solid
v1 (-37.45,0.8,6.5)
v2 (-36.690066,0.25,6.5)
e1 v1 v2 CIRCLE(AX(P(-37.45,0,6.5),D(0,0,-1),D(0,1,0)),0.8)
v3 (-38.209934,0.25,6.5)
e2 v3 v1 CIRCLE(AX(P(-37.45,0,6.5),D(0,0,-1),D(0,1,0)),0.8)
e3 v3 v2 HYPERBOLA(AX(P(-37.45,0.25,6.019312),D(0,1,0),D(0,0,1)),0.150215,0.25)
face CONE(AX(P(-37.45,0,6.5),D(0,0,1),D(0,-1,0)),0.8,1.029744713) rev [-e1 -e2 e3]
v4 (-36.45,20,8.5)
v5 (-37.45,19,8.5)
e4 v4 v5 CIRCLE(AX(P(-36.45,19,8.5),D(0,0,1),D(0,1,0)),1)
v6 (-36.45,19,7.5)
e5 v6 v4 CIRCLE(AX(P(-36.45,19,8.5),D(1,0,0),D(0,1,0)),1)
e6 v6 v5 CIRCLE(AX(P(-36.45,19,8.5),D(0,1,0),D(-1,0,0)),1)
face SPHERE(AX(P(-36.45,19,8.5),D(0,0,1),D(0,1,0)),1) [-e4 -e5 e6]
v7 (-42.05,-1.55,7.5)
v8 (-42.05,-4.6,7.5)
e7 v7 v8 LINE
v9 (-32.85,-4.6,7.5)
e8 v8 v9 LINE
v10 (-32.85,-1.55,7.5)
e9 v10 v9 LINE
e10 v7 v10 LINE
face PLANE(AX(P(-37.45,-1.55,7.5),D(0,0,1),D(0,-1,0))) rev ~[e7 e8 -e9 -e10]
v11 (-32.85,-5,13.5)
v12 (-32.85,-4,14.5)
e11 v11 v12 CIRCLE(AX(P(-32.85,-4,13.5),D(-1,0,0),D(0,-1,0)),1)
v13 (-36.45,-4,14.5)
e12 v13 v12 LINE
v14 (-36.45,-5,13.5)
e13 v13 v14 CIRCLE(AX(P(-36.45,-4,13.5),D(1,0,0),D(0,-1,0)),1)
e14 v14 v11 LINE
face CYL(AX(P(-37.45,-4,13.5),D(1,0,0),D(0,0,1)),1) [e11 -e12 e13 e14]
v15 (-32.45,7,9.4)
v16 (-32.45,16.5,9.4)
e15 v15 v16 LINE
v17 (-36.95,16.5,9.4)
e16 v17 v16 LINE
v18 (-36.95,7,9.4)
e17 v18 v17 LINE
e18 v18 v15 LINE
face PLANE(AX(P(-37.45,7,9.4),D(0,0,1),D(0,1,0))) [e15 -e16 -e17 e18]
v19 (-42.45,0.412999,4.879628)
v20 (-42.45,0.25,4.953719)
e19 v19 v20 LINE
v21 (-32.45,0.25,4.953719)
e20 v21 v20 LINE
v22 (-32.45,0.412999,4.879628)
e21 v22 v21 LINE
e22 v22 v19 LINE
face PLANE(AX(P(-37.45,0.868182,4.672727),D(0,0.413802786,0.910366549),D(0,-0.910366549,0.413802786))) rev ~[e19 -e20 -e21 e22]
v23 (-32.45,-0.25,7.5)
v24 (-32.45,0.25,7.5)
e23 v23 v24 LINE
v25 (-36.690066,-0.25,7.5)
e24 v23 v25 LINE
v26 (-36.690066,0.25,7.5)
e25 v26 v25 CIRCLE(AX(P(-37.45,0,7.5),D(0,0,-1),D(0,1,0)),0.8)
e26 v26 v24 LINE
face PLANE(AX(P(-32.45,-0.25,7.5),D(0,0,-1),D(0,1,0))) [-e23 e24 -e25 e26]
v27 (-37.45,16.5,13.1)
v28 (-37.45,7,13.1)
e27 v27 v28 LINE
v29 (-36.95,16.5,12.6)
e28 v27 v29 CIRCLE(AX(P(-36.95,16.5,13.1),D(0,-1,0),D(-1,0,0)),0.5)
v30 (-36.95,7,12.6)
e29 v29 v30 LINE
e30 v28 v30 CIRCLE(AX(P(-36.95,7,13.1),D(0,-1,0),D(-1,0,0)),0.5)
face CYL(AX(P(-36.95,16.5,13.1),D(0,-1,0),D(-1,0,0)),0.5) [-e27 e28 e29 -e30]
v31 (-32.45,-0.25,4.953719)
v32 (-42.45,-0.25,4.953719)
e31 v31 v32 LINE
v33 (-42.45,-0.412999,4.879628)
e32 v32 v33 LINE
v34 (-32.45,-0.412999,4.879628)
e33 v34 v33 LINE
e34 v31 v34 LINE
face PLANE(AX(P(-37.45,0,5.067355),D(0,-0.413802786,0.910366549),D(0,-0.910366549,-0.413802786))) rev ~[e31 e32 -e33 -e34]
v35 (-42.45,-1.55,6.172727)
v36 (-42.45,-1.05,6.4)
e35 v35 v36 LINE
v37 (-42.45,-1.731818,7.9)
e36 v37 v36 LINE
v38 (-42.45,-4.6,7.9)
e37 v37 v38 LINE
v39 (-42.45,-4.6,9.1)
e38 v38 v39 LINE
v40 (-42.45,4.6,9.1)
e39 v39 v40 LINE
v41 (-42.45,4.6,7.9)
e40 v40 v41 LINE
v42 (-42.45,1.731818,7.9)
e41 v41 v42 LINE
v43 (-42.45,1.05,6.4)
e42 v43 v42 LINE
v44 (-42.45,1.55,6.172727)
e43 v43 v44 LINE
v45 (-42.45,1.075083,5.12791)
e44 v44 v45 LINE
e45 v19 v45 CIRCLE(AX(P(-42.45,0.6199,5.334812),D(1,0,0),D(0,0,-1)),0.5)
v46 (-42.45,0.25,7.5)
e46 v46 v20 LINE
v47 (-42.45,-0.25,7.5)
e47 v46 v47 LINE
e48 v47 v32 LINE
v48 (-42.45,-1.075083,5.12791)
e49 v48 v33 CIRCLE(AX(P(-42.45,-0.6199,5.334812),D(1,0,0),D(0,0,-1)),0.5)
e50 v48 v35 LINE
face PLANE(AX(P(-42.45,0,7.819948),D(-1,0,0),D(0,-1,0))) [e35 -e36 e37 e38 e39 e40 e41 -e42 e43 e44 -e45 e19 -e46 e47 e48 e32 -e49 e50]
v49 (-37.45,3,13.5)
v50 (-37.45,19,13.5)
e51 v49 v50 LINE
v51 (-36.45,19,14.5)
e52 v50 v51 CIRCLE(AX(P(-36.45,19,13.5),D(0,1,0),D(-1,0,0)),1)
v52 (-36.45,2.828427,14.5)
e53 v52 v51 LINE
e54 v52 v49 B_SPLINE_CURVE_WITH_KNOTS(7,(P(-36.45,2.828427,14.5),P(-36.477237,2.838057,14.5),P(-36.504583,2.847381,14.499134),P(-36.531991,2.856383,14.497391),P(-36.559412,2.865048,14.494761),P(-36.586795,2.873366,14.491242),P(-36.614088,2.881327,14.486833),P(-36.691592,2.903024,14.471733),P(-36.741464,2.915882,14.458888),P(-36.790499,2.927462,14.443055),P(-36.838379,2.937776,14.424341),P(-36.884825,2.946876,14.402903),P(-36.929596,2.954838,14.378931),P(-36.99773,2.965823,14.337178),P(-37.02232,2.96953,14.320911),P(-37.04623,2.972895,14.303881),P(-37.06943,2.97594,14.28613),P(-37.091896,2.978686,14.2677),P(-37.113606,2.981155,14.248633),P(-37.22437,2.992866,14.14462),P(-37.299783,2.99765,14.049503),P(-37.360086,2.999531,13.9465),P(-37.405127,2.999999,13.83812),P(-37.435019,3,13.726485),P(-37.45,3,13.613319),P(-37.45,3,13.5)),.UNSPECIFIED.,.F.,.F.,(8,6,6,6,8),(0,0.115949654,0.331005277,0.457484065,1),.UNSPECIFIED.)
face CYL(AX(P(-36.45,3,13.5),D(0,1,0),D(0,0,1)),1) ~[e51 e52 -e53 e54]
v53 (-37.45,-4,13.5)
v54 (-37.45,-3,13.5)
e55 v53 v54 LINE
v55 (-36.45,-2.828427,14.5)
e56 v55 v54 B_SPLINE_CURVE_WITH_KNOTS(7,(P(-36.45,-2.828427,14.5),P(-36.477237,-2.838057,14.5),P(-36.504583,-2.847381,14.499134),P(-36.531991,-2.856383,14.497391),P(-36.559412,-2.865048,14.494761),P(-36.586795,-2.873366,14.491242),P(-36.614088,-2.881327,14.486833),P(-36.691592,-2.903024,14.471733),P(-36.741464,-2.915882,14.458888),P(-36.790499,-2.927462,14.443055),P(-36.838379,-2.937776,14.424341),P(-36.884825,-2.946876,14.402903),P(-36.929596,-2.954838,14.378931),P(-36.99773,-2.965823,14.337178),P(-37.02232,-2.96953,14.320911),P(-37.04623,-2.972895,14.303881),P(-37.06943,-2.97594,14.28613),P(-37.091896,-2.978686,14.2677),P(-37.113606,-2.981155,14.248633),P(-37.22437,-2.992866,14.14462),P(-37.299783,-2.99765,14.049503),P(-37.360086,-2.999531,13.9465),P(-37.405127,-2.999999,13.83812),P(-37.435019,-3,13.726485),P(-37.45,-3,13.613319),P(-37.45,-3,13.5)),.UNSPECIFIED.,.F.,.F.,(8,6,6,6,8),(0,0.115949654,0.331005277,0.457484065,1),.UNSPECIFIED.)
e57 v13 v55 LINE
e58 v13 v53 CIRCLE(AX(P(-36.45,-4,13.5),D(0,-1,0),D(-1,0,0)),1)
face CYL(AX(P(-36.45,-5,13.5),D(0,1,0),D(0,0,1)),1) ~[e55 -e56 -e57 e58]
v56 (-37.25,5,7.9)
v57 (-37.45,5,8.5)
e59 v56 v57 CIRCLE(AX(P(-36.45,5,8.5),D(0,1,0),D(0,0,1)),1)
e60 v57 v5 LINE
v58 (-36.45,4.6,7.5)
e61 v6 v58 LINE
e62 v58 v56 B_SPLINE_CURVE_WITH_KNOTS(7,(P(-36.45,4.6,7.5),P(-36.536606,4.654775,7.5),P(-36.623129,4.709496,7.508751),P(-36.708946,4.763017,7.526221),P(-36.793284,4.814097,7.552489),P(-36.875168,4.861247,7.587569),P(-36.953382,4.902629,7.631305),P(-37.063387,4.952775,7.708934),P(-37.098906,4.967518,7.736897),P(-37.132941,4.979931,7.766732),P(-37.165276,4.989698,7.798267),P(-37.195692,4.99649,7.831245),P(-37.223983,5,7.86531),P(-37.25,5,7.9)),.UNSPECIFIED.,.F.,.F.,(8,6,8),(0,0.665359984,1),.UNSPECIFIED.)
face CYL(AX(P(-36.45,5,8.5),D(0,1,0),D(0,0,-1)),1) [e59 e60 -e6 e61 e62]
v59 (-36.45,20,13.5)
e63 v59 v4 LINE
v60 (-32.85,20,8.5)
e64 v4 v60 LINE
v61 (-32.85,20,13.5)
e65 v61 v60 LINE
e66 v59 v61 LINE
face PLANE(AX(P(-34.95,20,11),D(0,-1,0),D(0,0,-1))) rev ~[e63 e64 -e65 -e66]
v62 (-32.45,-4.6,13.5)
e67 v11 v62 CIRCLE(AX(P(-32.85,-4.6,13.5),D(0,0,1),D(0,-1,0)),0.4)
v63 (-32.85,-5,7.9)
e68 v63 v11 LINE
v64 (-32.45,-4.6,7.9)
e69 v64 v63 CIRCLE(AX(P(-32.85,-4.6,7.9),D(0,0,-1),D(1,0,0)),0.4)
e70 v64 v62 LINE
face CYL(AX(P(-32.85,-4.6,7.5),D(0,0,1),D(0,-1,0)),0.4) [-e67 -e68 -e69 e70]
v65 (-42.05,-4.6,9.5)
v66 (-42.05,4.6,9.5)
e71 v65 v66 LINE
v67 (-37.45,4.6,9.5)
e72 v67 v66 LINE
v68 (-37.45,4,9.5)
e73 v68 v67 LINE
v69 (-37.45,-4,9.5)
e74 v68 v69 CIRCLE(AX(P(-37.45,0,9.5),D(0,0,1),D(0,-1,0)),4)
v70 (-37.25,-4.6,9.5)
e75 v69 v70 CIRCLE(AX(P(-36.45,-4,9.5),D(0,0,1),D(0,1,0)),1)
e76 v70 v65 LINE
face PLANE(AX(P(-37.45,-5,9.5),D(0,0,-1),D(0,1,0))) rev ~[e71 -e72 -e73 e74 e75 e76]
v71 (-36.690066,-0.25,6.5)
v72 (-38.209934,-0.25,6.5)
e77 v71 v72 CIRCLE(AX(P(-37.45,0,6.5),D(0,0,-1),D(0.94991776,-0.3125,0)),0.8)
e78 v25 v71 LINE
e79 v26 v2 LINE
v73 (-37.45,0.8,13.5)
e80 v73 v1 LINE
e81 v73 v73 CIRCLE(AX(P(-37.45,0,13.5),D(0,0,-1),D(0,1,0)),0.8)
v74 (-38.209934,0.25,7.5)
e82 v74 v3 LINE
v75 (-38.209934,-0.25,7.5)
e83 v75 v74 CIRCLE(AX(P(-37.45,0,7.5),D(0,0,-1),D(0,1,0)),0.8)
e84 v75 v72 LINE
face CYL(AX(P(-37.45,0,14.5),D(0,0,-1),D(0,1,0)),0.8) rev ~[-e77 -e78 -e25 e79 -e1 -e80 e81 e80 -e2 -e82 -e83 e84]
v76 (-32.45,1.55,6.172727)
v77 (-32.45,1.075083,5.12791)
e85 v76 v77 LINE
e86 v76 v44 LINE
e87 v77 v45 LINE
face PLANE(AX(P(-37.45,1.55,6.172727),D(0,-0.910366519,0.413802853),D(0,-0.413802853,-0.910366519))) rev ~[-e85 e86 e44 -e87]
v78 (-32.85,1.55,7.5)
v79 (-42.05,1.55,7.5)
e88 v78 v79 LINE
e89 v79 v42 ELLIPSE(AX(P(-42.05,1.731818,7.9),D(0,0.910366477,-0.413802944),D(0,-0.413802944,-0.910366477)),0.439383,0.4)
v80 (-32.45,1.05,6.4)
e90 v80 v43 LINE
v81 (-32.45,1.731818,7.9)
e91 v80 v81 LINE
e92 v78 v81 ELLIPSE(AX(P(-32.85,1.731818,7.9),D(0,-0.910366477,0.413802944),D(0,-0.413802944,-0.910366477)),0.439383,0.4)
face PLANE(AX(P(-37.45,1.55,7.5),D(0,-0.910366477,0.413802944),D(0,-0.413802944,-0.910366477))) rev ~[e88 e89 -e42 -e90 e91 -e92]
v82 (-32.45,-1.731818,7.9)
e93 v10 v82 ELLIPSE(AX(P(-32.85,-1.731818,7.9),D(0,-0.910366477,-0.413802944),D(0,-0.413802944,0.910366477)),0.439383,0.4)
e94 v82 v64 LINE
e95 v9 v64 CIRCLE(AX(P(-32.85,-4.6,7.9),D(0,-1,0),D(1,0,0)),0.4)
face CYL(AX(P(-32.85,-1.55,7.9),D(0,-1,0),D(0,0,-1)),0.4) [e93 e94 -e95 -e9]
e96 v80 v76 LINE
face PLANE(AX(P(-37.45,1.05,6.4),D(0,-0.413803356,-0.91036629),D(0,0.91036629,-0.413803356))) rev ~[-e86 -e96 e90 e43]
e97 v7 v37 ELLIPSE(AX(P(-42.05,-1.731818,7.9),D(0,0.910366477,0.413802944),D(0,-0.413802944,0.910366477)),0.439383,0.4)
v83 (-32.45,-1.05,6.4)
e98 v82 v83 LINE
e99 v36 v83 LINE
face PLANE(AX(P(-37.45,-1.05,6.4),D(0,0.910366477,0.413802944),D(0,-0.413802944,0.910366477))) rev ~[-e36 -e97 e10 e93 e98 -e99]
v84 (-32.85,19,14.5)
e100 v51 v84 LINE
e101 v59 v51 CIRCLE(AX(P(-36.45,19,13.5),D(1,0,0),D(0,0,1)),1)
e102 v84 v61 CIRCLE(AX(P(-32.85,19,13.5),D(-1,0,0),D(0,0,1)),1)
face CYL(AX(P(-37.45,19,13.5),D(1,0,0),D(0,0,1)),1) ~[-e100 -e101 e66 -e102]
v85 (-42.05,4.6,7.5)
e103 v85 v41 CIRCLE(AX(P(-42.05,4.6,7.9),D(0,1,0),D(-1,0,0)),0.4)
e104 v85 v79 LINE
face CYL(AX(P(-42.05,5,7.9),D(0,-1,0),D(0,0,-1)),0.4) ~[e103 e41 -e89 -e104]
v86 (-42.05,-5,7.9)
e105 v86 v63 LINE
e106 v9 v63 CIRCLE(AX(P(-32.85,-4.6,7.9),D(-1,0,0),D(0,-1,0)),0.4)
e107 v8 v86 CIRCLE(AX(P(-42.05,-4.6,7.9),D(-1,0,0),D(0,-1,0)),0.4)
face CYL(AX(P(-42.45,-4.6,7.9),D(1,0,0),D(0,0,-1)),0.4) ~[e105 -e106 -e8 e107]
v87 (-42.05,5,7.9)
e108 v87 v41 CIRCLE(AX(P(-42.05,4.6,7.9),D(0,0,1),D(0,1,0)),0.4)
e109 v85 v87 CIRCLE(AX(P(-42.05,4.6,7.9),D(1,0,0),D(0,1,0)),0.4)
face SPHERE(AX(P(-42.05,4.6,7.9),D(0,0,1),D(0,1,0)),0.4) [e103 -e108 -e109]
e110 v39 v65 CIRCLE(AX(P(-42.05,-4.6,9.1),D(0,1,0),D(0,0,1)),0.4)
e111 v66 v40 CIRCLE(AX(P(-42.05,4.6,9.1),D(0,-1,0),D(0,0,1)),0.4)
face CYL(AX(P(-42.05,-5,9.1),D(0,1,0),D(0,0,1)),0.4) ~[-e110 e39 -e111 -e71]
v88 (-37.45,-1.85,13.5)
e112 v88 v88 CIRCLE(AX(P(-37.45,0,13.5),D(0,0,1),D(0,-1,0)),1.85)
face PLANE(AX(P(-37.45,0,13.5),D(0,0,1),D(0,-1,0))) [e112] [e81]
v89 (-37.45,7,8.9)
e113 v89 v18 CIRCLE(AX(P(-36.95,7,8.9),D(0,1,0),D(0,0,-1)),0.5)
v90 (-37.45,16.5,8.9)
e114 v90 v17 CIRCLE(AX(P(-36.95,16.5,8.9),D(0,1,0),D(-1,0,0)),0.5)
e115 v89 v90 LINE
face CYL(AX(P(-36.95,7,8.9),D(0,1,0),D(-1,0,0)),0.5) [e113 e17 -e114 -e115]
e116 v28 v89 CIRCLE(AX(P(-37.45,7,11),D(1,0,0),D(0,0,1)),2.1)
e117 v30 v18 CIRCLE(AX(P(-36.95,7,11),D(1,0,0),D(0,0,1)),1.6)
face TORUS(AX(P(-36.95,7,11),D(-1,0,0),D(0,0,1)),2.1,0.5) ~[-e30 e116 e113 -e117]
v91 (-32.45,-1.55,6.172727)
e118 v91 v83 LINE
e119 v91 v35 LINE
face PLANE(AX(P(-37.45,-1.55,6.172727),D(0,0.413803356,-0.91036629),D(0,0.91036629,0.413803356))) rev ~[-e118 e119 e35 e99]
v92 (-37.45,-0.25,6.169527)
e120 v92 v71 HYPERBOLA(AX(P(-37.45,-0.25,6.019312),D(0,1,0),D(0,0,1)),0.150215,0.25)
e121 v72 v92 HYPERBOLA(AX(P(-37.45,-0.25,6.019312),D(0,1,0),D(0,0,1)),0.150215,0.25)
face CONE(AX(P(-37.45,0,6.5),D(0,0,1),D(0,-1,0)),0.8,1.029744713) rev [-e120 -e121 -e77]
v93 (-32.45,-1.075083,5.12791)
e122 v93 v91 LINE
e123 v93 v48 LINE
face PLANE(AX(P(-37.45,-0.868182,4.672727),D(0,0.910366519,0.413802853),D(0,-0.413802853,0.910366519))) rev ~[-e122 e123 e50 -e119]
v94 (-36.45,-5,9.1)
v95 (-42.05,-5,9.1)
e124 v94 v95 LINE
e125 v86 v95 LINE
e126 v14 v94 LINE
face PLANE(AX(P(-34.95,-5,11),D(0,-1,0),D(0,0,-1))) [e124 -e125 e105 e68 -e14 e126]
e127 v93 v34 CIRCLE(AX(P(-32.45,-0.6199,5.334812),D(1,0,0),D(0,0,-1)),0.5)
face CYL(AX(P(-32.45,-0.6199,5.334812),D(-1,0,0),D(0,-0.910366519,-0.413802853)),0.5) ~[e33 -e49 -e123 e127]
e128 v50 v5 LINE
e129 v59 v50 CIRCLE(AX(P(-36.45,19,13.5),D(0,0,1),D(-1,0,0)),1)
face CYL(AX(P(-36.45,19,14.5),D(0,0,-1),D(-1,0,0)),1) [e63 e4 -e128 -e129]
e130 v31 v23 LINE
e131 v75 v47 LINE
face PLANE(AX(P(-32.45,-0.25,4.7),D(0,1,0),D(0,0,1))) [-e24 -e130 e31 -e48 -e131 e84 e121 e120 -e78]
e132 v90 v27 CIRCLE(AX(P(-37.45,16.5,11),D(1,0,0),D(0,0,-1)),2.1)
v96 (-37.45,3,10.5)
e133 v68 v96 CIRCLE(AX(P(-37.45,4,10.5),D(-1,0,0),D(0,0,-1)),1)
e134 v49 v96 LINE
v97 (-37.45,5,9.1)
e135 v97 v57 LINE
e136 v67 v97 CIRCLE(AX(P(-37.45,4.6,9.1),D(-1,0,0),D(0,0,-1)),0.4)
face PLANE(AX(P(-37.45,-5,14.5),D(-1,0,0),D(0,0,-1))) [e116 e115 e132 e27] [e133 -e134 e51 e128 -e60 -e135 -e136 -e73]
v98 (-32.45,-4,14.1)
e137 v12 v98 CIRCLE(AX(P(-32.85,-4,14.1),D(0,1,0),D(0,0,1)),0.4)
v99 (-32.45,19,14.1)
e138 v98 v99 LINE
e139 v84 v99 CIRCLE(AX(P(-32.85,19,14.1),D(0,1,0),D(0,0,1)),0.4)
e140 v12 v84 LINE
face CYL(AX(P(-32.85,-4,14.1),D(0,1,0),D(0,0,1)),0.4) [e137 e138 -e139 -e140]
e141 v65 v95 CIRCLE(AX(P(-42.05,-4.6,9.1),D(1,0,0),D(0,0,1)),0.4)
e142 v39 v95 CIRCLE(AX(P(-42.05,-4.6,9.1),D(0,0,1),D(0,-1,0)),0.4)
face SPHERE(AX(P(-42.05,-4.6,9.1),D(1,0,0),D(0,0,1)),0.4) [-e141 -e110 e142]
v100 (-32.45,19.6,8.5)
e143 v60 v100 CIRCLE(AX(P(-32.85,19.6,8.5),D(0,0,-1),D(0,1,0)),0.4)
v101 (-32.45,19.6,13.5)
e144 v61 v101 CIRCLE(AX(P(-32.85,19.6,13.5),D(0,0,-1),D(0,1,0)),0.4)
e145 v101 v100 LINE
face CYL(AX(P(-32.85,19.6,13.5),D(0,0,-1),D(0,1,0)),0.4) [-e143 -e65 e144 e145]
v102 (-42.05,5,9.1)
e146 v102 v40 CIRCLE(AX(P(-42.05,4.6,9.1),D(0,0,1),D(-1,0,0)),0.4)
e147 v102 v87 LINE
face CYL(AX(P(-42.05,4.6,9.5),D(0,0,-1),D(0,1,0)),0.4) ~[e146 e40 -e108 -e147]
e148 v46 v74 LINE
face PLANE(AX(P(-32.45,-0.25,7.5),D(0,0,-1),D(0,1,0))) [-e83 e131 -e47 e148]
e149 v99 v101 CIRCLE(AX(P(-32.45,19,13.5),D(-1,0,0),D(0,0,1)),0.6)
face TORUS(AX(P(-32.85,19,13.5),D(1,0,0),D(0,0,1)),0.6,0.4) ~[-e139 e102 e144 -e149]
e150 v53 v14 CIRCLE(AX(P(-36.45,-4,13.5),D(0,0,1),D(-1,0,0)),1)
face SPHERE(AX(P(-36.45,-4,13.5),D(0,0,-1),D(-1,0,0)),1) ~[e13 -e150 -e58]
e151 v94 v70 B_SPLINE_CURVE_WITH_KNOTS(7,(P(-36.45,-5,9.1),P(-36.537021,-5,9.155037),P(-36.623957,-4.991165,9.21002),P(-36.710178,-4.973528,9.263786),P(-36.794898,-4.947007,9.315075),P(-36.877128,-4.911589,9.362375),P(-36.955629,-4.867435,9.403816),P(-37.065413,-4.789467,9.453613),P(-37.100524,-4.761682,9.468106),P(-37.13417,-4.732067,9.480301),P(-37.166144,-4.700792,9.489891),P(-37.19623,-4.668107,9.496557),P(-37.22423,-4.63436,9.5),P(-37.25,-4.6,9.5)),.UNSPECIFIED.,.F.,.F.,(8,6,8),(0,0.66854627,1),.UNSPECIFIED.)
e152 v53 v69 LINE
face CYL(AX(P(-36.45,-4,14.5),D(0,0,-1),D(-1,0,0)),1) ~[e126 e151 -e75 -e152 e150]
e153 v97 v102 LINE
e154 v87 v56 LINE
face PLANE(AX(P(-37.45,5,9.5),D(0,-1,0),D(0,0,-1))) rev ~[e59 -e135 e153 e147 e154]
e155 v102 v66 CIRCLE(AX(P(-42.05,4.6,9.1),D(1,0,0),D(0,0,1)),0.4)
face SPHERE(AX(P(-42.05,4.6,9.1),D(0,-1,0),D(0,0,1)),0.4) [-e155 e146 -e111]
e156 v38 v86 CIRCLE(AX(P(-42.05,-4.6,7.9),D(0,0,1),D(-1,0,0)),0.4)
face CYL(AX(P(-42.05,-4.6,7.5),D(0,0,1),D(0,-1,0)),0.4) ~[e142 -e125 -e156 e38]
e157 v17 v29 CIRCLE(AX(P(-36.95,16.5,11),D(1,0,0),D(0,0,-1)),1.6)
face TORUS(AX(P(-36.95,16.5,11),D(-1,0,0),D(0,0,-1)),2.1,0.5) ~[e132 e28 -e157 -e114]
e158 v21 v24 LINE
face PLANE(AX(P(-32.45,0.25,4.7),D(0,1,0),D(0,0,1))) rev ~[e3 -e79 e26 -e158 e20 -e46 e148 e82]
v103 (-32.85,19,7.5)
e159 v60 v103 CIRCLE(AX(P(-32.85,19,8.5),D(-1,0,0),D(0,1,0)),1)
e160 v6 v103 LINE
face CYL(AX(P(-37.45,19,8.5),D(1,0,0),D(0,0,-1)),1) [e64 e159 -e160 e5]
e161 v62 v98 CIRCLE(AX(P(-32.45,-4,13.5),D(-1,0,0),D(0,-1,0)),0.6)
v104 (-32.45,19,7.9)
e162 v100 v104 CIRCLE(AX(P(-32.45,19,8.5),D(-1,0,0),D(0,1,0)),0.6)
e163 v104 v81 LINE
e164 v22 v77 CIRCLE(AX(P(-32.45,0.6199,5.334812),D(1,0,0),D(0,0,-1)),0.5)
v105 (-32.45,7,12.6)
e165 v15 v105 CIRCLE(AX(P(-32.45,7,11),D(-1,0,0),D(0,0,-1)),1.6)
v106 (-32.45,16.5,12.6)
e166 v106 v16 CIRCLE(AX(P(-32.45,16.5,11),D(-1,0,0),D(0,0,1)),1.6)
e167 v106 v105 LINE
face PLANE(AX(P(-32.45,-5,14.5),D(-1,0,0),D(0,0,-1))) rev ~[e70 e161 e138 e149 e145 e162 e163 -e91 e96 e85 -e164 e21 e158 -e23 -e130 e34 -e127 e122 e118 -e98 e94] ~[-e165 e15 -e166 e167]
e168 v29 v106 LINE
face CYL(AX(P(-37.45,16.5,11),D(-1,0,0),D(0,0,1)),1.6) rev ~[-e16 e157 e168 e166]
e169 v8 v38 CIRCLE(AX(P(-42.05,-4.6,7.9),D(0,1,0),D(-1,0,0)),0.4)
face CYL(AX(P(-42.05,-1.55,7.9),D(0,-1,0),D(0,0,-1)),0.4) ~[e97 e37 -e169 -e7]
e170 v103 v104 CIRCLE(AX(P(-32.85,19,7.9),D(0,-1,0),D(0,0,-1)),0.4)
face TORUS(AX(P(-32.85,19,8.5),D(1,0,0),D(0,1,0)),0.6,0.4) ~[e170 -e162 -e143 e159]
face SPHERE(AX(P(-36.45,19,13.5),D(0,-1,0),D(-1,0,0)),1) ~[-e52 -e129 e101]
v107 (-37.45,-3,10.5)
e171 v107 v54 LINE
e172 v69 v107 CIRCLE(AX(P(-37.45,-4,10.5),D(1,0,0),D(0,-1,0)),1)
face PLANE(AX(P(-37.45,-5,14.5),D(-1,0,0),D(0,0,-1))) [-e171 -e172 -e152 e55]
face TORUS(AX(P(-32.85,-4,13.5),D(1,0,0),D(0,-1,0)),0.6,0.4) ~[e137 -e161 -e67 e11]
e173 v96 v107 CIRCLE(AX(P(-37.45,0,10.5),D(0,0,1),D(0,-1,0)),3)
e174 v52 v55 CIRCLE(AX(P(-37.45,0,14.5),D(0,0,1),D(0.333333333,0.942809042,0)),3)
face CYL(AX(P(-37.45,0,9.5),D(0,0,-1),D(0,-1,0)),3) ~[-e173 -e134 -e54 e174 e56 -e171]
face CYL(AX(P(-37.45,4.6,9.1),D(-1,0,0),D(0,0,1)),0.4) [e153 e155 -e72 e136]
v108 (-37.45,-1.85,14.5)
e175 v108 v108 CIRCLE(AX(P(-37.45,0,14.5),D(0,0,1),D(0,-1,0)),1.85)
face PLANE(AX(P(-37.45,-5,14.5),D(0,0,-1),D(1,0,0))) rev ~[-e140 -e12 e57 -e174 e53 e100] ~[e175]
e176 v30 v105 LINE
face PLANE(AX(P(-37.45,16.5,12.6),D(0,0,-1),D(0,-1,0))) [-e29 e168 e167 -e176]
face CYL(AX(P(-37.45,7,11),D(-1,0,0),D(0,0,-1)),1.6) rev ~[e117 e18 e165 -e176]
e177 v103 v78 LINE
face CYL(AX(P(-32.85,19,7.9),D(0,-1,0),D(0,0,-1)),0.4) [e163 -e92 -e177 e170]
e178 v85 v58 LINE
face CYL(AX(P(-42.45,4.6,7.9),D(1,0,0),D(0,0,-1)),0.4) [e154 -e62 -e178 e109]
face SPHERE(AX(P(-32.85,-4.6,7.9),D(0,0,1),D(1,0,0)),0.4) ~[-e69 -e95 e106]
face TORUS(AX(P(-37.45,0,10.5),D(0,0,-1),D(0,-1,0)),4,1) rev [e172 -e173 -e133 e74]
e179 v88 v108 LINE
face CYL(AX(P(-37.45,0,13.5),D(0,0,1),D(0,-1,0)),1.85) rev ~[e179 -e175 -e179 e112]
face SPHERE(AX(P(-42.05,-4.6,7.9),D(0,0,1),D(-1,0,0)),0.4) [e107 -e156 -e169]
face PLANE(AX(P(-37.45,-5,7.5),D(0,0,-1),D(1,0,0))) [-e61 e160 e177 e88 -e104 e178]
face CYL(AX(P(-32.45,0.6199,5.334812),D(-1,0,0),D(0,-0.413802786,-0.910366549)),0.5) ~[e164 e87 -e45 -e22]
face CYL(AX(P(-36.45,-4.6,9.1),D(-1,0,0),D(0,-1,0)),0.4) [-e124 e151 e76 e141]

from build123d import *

# Parameters (mm, degrees)
PAD_DEPTH           = 5
SKETCH002_W         = 0.5
SKETCH002_H         = 2.8
POCKET_DEPTH        = 10.001
FILLET_R            = 0.5
SKETCH024_R         = 3
PAD016_DEPTH        = 5
FILLET004_R         = 1
SKETCH025_W         = 7
SKETCH025_H         = 5
PAD017_DEPTH        = 25
HOLE004_D           = 1.6
HOLE004_DEPTH       = 8
HOLE004_CBORE_D     = 3.7
HOLE004_CBORE_DEPTH = 1
HOLE004_TIPS_R      = 0.8
FILLET005_R         = 1
FILLET006_R         = 0.4
POCKET010_DEPTH     = 5.001
FILLET009_R         = 0.5


with BuildPart() as part:
    # Sketch → Pad (new body, symmetric)
    with BuildSketch(Plane.YZ):
        Polygon((-5, 7.5), (-5, 9.5), (5, 9.5), (5, 7.5), (1.55, 7.5), (1.05, 6.4), (1.55, 6.172727), (0.868182, 4.672727), (0, 5.067355), (-0.868182, 4.672727), (-1.55, 6.172727), (-1.05, 6.4), (-1.55, 7.5), align=None)
    extrude(amount=PAD_DEPTH, both=True)

    # Sketch002 → Pocket (cut, through all)
    with BuildSketch(Plane.YZ.offset(5)):
        with Locations((0, 6.1)):
            Rectangle(SKETCH002_W, SKETCH002_H)
    extrude(amount=-POCKET_DEPTH, mode=Mode.SUBTRACT)

    # Fillet
    fillet_edges = [part.edges().sort_by_distance(p)[0] for p in [
        (0, 0.868182, 4.672727),
        (0, -0.868182, 4.672727),
    ]]
    fillet(fillet_edges, radius=FILLET_R)

    # Sketch024 (on Face2 of Pad) → Pad016 (join)
    with BuildSketch(Plane(origin=(0, 0, 9.5), x_dir=(0, -1, 0), z_dir=(0, 0, 1))):
        Circle(SKETCH024_R)
    extrude(amount=PAD016_DEPTH)

    # Fillet004
    fillet004_edges = [part.edges().sort_by_distance(p)[0] for p in [
        (0, 3, 9.5),
    ]]
    fillet(fillet004_edges, radius=FILLET004_R)

    # Sketch025 (on DatumPlane) → Pad017 (join)
    with BuildSketch(Plane(origin=(0, -5, 0), x_dir=(0, 0, -1), z_dir=(0, -1, 0))):
        with Locations((-11, 2.5)):
            Rectangle(SKETCH025_W, SKETCH025_H)
    extrude(amount=-PAD017_DEPTH)

    # Hole004
    with Locations(Plane(origin=(0, 0, 14.5), x_dir=(0, -1, 0), z_dir=(0, 0, 1))):
        with Locations((0, 0)):
            CounterBoreHole(HOLE004_D / 2, HOLE004_CBORE_D / 2, HOLE004_CBORE_DEPTH, depth=HOLE004_DEPTH)

    # Hole004 tips → Hole004 tip 1 section 0
    with BuildSketch(Plane(origin=(0, 0, 6.5), x_dir=(0, -1, 0), z_dir=(0, 0, 1)), mode=Mode.PRIVATE) as hole004_tip_1_s0:
        Circle(HOLE004_TIPS_R)
    loft([hole004_tip_1_s0.sketch, Vertex(0, 0, 6.019312)], mode=Mode.SUBTRACT)

    # Fillet005
    fillet005_edges = [part.edges().sort_by_distance(p)[0] for p in [
        (0, -5, 12),
        (0, -4, 14.5),
        (0, 11.5, 14.5),
        (0, 20, 11),
        (2.5, 20, 7.5),
        (0, 12.5, 7.5),
        (2.5, -5, 14.5),
        (2.5, 20, 14.5),
    ]]
    fillet(fillet005_edges, radius=FILLET005_R)

    # Fillet006
    fillet006_edges = [part.edges().sort_by_distance(p)[0] for p in [
        (-2.5, -5, 9.5),
        (-5, 0, 9.5),
        (-2.5, 5, 9.5),
        (0.5, -5, 9.5),
        (-5, 5, 8.5),
        (-5, -5, 8.5),
        (5, 7.5, 14.5),
        (5, 19.707107, 14.207107),
        (5, 20, 11),
        (5, 19.707107, 7.792893),
        (5, 10.275, 7.5),
        (5, -5, 10.5),
        (5, -4.707107, 14.207107),
        (5, -3.275, 7.5),
        (-2.5, 5, 7.5),
        (0.5, 5, 7.5),
        (-5, 3.275, 7.5),
        (-5, -3.275, 7.5),
        (0, -5, 7.5),
    ]]
    fillet(fillet006_edges, radius=FILLET006_R)

    # Sketch027 (on DatumPlane) → Pocket010 (cut, through all)
    with BuildSketch(Plane(origin=(0, 0, 0), x_dir=(0, 1, 0), z_dir=(-1, 0, 0))):
        with BuildLine():
            Line((7, -9.4), (16.5, -9.4))
            ThreePointArc((16.5, -12.6), (18.1, -11), (16.5, -9.4))
            Line((16.5, -12.6), (7, -12.6))
            ThreePointArc((7, -9.4), (5.4, -11), (7, -12.6))
        make_face()
    extrude(amount=-POCKET010_DEPTH, mode=Mode.SUBTRACT)

    # Fillet009
    fillet009_edges = [part.edges().sort_by_distance(p)[0] for p in [
        (0, 11.75, 12.6),
        (0, 18.1, 11),
        (0, 11.75, 9.4),
        (0, 5.4, 11),
    ]]
    fillet(fillet009_edges, radius=FILLET009_R)


with BuildPart() as part_1:
    # Body001 placement: moved
    add(part.part.moved(Location((-37.45, 0, 0))))


solid = part_1.part
